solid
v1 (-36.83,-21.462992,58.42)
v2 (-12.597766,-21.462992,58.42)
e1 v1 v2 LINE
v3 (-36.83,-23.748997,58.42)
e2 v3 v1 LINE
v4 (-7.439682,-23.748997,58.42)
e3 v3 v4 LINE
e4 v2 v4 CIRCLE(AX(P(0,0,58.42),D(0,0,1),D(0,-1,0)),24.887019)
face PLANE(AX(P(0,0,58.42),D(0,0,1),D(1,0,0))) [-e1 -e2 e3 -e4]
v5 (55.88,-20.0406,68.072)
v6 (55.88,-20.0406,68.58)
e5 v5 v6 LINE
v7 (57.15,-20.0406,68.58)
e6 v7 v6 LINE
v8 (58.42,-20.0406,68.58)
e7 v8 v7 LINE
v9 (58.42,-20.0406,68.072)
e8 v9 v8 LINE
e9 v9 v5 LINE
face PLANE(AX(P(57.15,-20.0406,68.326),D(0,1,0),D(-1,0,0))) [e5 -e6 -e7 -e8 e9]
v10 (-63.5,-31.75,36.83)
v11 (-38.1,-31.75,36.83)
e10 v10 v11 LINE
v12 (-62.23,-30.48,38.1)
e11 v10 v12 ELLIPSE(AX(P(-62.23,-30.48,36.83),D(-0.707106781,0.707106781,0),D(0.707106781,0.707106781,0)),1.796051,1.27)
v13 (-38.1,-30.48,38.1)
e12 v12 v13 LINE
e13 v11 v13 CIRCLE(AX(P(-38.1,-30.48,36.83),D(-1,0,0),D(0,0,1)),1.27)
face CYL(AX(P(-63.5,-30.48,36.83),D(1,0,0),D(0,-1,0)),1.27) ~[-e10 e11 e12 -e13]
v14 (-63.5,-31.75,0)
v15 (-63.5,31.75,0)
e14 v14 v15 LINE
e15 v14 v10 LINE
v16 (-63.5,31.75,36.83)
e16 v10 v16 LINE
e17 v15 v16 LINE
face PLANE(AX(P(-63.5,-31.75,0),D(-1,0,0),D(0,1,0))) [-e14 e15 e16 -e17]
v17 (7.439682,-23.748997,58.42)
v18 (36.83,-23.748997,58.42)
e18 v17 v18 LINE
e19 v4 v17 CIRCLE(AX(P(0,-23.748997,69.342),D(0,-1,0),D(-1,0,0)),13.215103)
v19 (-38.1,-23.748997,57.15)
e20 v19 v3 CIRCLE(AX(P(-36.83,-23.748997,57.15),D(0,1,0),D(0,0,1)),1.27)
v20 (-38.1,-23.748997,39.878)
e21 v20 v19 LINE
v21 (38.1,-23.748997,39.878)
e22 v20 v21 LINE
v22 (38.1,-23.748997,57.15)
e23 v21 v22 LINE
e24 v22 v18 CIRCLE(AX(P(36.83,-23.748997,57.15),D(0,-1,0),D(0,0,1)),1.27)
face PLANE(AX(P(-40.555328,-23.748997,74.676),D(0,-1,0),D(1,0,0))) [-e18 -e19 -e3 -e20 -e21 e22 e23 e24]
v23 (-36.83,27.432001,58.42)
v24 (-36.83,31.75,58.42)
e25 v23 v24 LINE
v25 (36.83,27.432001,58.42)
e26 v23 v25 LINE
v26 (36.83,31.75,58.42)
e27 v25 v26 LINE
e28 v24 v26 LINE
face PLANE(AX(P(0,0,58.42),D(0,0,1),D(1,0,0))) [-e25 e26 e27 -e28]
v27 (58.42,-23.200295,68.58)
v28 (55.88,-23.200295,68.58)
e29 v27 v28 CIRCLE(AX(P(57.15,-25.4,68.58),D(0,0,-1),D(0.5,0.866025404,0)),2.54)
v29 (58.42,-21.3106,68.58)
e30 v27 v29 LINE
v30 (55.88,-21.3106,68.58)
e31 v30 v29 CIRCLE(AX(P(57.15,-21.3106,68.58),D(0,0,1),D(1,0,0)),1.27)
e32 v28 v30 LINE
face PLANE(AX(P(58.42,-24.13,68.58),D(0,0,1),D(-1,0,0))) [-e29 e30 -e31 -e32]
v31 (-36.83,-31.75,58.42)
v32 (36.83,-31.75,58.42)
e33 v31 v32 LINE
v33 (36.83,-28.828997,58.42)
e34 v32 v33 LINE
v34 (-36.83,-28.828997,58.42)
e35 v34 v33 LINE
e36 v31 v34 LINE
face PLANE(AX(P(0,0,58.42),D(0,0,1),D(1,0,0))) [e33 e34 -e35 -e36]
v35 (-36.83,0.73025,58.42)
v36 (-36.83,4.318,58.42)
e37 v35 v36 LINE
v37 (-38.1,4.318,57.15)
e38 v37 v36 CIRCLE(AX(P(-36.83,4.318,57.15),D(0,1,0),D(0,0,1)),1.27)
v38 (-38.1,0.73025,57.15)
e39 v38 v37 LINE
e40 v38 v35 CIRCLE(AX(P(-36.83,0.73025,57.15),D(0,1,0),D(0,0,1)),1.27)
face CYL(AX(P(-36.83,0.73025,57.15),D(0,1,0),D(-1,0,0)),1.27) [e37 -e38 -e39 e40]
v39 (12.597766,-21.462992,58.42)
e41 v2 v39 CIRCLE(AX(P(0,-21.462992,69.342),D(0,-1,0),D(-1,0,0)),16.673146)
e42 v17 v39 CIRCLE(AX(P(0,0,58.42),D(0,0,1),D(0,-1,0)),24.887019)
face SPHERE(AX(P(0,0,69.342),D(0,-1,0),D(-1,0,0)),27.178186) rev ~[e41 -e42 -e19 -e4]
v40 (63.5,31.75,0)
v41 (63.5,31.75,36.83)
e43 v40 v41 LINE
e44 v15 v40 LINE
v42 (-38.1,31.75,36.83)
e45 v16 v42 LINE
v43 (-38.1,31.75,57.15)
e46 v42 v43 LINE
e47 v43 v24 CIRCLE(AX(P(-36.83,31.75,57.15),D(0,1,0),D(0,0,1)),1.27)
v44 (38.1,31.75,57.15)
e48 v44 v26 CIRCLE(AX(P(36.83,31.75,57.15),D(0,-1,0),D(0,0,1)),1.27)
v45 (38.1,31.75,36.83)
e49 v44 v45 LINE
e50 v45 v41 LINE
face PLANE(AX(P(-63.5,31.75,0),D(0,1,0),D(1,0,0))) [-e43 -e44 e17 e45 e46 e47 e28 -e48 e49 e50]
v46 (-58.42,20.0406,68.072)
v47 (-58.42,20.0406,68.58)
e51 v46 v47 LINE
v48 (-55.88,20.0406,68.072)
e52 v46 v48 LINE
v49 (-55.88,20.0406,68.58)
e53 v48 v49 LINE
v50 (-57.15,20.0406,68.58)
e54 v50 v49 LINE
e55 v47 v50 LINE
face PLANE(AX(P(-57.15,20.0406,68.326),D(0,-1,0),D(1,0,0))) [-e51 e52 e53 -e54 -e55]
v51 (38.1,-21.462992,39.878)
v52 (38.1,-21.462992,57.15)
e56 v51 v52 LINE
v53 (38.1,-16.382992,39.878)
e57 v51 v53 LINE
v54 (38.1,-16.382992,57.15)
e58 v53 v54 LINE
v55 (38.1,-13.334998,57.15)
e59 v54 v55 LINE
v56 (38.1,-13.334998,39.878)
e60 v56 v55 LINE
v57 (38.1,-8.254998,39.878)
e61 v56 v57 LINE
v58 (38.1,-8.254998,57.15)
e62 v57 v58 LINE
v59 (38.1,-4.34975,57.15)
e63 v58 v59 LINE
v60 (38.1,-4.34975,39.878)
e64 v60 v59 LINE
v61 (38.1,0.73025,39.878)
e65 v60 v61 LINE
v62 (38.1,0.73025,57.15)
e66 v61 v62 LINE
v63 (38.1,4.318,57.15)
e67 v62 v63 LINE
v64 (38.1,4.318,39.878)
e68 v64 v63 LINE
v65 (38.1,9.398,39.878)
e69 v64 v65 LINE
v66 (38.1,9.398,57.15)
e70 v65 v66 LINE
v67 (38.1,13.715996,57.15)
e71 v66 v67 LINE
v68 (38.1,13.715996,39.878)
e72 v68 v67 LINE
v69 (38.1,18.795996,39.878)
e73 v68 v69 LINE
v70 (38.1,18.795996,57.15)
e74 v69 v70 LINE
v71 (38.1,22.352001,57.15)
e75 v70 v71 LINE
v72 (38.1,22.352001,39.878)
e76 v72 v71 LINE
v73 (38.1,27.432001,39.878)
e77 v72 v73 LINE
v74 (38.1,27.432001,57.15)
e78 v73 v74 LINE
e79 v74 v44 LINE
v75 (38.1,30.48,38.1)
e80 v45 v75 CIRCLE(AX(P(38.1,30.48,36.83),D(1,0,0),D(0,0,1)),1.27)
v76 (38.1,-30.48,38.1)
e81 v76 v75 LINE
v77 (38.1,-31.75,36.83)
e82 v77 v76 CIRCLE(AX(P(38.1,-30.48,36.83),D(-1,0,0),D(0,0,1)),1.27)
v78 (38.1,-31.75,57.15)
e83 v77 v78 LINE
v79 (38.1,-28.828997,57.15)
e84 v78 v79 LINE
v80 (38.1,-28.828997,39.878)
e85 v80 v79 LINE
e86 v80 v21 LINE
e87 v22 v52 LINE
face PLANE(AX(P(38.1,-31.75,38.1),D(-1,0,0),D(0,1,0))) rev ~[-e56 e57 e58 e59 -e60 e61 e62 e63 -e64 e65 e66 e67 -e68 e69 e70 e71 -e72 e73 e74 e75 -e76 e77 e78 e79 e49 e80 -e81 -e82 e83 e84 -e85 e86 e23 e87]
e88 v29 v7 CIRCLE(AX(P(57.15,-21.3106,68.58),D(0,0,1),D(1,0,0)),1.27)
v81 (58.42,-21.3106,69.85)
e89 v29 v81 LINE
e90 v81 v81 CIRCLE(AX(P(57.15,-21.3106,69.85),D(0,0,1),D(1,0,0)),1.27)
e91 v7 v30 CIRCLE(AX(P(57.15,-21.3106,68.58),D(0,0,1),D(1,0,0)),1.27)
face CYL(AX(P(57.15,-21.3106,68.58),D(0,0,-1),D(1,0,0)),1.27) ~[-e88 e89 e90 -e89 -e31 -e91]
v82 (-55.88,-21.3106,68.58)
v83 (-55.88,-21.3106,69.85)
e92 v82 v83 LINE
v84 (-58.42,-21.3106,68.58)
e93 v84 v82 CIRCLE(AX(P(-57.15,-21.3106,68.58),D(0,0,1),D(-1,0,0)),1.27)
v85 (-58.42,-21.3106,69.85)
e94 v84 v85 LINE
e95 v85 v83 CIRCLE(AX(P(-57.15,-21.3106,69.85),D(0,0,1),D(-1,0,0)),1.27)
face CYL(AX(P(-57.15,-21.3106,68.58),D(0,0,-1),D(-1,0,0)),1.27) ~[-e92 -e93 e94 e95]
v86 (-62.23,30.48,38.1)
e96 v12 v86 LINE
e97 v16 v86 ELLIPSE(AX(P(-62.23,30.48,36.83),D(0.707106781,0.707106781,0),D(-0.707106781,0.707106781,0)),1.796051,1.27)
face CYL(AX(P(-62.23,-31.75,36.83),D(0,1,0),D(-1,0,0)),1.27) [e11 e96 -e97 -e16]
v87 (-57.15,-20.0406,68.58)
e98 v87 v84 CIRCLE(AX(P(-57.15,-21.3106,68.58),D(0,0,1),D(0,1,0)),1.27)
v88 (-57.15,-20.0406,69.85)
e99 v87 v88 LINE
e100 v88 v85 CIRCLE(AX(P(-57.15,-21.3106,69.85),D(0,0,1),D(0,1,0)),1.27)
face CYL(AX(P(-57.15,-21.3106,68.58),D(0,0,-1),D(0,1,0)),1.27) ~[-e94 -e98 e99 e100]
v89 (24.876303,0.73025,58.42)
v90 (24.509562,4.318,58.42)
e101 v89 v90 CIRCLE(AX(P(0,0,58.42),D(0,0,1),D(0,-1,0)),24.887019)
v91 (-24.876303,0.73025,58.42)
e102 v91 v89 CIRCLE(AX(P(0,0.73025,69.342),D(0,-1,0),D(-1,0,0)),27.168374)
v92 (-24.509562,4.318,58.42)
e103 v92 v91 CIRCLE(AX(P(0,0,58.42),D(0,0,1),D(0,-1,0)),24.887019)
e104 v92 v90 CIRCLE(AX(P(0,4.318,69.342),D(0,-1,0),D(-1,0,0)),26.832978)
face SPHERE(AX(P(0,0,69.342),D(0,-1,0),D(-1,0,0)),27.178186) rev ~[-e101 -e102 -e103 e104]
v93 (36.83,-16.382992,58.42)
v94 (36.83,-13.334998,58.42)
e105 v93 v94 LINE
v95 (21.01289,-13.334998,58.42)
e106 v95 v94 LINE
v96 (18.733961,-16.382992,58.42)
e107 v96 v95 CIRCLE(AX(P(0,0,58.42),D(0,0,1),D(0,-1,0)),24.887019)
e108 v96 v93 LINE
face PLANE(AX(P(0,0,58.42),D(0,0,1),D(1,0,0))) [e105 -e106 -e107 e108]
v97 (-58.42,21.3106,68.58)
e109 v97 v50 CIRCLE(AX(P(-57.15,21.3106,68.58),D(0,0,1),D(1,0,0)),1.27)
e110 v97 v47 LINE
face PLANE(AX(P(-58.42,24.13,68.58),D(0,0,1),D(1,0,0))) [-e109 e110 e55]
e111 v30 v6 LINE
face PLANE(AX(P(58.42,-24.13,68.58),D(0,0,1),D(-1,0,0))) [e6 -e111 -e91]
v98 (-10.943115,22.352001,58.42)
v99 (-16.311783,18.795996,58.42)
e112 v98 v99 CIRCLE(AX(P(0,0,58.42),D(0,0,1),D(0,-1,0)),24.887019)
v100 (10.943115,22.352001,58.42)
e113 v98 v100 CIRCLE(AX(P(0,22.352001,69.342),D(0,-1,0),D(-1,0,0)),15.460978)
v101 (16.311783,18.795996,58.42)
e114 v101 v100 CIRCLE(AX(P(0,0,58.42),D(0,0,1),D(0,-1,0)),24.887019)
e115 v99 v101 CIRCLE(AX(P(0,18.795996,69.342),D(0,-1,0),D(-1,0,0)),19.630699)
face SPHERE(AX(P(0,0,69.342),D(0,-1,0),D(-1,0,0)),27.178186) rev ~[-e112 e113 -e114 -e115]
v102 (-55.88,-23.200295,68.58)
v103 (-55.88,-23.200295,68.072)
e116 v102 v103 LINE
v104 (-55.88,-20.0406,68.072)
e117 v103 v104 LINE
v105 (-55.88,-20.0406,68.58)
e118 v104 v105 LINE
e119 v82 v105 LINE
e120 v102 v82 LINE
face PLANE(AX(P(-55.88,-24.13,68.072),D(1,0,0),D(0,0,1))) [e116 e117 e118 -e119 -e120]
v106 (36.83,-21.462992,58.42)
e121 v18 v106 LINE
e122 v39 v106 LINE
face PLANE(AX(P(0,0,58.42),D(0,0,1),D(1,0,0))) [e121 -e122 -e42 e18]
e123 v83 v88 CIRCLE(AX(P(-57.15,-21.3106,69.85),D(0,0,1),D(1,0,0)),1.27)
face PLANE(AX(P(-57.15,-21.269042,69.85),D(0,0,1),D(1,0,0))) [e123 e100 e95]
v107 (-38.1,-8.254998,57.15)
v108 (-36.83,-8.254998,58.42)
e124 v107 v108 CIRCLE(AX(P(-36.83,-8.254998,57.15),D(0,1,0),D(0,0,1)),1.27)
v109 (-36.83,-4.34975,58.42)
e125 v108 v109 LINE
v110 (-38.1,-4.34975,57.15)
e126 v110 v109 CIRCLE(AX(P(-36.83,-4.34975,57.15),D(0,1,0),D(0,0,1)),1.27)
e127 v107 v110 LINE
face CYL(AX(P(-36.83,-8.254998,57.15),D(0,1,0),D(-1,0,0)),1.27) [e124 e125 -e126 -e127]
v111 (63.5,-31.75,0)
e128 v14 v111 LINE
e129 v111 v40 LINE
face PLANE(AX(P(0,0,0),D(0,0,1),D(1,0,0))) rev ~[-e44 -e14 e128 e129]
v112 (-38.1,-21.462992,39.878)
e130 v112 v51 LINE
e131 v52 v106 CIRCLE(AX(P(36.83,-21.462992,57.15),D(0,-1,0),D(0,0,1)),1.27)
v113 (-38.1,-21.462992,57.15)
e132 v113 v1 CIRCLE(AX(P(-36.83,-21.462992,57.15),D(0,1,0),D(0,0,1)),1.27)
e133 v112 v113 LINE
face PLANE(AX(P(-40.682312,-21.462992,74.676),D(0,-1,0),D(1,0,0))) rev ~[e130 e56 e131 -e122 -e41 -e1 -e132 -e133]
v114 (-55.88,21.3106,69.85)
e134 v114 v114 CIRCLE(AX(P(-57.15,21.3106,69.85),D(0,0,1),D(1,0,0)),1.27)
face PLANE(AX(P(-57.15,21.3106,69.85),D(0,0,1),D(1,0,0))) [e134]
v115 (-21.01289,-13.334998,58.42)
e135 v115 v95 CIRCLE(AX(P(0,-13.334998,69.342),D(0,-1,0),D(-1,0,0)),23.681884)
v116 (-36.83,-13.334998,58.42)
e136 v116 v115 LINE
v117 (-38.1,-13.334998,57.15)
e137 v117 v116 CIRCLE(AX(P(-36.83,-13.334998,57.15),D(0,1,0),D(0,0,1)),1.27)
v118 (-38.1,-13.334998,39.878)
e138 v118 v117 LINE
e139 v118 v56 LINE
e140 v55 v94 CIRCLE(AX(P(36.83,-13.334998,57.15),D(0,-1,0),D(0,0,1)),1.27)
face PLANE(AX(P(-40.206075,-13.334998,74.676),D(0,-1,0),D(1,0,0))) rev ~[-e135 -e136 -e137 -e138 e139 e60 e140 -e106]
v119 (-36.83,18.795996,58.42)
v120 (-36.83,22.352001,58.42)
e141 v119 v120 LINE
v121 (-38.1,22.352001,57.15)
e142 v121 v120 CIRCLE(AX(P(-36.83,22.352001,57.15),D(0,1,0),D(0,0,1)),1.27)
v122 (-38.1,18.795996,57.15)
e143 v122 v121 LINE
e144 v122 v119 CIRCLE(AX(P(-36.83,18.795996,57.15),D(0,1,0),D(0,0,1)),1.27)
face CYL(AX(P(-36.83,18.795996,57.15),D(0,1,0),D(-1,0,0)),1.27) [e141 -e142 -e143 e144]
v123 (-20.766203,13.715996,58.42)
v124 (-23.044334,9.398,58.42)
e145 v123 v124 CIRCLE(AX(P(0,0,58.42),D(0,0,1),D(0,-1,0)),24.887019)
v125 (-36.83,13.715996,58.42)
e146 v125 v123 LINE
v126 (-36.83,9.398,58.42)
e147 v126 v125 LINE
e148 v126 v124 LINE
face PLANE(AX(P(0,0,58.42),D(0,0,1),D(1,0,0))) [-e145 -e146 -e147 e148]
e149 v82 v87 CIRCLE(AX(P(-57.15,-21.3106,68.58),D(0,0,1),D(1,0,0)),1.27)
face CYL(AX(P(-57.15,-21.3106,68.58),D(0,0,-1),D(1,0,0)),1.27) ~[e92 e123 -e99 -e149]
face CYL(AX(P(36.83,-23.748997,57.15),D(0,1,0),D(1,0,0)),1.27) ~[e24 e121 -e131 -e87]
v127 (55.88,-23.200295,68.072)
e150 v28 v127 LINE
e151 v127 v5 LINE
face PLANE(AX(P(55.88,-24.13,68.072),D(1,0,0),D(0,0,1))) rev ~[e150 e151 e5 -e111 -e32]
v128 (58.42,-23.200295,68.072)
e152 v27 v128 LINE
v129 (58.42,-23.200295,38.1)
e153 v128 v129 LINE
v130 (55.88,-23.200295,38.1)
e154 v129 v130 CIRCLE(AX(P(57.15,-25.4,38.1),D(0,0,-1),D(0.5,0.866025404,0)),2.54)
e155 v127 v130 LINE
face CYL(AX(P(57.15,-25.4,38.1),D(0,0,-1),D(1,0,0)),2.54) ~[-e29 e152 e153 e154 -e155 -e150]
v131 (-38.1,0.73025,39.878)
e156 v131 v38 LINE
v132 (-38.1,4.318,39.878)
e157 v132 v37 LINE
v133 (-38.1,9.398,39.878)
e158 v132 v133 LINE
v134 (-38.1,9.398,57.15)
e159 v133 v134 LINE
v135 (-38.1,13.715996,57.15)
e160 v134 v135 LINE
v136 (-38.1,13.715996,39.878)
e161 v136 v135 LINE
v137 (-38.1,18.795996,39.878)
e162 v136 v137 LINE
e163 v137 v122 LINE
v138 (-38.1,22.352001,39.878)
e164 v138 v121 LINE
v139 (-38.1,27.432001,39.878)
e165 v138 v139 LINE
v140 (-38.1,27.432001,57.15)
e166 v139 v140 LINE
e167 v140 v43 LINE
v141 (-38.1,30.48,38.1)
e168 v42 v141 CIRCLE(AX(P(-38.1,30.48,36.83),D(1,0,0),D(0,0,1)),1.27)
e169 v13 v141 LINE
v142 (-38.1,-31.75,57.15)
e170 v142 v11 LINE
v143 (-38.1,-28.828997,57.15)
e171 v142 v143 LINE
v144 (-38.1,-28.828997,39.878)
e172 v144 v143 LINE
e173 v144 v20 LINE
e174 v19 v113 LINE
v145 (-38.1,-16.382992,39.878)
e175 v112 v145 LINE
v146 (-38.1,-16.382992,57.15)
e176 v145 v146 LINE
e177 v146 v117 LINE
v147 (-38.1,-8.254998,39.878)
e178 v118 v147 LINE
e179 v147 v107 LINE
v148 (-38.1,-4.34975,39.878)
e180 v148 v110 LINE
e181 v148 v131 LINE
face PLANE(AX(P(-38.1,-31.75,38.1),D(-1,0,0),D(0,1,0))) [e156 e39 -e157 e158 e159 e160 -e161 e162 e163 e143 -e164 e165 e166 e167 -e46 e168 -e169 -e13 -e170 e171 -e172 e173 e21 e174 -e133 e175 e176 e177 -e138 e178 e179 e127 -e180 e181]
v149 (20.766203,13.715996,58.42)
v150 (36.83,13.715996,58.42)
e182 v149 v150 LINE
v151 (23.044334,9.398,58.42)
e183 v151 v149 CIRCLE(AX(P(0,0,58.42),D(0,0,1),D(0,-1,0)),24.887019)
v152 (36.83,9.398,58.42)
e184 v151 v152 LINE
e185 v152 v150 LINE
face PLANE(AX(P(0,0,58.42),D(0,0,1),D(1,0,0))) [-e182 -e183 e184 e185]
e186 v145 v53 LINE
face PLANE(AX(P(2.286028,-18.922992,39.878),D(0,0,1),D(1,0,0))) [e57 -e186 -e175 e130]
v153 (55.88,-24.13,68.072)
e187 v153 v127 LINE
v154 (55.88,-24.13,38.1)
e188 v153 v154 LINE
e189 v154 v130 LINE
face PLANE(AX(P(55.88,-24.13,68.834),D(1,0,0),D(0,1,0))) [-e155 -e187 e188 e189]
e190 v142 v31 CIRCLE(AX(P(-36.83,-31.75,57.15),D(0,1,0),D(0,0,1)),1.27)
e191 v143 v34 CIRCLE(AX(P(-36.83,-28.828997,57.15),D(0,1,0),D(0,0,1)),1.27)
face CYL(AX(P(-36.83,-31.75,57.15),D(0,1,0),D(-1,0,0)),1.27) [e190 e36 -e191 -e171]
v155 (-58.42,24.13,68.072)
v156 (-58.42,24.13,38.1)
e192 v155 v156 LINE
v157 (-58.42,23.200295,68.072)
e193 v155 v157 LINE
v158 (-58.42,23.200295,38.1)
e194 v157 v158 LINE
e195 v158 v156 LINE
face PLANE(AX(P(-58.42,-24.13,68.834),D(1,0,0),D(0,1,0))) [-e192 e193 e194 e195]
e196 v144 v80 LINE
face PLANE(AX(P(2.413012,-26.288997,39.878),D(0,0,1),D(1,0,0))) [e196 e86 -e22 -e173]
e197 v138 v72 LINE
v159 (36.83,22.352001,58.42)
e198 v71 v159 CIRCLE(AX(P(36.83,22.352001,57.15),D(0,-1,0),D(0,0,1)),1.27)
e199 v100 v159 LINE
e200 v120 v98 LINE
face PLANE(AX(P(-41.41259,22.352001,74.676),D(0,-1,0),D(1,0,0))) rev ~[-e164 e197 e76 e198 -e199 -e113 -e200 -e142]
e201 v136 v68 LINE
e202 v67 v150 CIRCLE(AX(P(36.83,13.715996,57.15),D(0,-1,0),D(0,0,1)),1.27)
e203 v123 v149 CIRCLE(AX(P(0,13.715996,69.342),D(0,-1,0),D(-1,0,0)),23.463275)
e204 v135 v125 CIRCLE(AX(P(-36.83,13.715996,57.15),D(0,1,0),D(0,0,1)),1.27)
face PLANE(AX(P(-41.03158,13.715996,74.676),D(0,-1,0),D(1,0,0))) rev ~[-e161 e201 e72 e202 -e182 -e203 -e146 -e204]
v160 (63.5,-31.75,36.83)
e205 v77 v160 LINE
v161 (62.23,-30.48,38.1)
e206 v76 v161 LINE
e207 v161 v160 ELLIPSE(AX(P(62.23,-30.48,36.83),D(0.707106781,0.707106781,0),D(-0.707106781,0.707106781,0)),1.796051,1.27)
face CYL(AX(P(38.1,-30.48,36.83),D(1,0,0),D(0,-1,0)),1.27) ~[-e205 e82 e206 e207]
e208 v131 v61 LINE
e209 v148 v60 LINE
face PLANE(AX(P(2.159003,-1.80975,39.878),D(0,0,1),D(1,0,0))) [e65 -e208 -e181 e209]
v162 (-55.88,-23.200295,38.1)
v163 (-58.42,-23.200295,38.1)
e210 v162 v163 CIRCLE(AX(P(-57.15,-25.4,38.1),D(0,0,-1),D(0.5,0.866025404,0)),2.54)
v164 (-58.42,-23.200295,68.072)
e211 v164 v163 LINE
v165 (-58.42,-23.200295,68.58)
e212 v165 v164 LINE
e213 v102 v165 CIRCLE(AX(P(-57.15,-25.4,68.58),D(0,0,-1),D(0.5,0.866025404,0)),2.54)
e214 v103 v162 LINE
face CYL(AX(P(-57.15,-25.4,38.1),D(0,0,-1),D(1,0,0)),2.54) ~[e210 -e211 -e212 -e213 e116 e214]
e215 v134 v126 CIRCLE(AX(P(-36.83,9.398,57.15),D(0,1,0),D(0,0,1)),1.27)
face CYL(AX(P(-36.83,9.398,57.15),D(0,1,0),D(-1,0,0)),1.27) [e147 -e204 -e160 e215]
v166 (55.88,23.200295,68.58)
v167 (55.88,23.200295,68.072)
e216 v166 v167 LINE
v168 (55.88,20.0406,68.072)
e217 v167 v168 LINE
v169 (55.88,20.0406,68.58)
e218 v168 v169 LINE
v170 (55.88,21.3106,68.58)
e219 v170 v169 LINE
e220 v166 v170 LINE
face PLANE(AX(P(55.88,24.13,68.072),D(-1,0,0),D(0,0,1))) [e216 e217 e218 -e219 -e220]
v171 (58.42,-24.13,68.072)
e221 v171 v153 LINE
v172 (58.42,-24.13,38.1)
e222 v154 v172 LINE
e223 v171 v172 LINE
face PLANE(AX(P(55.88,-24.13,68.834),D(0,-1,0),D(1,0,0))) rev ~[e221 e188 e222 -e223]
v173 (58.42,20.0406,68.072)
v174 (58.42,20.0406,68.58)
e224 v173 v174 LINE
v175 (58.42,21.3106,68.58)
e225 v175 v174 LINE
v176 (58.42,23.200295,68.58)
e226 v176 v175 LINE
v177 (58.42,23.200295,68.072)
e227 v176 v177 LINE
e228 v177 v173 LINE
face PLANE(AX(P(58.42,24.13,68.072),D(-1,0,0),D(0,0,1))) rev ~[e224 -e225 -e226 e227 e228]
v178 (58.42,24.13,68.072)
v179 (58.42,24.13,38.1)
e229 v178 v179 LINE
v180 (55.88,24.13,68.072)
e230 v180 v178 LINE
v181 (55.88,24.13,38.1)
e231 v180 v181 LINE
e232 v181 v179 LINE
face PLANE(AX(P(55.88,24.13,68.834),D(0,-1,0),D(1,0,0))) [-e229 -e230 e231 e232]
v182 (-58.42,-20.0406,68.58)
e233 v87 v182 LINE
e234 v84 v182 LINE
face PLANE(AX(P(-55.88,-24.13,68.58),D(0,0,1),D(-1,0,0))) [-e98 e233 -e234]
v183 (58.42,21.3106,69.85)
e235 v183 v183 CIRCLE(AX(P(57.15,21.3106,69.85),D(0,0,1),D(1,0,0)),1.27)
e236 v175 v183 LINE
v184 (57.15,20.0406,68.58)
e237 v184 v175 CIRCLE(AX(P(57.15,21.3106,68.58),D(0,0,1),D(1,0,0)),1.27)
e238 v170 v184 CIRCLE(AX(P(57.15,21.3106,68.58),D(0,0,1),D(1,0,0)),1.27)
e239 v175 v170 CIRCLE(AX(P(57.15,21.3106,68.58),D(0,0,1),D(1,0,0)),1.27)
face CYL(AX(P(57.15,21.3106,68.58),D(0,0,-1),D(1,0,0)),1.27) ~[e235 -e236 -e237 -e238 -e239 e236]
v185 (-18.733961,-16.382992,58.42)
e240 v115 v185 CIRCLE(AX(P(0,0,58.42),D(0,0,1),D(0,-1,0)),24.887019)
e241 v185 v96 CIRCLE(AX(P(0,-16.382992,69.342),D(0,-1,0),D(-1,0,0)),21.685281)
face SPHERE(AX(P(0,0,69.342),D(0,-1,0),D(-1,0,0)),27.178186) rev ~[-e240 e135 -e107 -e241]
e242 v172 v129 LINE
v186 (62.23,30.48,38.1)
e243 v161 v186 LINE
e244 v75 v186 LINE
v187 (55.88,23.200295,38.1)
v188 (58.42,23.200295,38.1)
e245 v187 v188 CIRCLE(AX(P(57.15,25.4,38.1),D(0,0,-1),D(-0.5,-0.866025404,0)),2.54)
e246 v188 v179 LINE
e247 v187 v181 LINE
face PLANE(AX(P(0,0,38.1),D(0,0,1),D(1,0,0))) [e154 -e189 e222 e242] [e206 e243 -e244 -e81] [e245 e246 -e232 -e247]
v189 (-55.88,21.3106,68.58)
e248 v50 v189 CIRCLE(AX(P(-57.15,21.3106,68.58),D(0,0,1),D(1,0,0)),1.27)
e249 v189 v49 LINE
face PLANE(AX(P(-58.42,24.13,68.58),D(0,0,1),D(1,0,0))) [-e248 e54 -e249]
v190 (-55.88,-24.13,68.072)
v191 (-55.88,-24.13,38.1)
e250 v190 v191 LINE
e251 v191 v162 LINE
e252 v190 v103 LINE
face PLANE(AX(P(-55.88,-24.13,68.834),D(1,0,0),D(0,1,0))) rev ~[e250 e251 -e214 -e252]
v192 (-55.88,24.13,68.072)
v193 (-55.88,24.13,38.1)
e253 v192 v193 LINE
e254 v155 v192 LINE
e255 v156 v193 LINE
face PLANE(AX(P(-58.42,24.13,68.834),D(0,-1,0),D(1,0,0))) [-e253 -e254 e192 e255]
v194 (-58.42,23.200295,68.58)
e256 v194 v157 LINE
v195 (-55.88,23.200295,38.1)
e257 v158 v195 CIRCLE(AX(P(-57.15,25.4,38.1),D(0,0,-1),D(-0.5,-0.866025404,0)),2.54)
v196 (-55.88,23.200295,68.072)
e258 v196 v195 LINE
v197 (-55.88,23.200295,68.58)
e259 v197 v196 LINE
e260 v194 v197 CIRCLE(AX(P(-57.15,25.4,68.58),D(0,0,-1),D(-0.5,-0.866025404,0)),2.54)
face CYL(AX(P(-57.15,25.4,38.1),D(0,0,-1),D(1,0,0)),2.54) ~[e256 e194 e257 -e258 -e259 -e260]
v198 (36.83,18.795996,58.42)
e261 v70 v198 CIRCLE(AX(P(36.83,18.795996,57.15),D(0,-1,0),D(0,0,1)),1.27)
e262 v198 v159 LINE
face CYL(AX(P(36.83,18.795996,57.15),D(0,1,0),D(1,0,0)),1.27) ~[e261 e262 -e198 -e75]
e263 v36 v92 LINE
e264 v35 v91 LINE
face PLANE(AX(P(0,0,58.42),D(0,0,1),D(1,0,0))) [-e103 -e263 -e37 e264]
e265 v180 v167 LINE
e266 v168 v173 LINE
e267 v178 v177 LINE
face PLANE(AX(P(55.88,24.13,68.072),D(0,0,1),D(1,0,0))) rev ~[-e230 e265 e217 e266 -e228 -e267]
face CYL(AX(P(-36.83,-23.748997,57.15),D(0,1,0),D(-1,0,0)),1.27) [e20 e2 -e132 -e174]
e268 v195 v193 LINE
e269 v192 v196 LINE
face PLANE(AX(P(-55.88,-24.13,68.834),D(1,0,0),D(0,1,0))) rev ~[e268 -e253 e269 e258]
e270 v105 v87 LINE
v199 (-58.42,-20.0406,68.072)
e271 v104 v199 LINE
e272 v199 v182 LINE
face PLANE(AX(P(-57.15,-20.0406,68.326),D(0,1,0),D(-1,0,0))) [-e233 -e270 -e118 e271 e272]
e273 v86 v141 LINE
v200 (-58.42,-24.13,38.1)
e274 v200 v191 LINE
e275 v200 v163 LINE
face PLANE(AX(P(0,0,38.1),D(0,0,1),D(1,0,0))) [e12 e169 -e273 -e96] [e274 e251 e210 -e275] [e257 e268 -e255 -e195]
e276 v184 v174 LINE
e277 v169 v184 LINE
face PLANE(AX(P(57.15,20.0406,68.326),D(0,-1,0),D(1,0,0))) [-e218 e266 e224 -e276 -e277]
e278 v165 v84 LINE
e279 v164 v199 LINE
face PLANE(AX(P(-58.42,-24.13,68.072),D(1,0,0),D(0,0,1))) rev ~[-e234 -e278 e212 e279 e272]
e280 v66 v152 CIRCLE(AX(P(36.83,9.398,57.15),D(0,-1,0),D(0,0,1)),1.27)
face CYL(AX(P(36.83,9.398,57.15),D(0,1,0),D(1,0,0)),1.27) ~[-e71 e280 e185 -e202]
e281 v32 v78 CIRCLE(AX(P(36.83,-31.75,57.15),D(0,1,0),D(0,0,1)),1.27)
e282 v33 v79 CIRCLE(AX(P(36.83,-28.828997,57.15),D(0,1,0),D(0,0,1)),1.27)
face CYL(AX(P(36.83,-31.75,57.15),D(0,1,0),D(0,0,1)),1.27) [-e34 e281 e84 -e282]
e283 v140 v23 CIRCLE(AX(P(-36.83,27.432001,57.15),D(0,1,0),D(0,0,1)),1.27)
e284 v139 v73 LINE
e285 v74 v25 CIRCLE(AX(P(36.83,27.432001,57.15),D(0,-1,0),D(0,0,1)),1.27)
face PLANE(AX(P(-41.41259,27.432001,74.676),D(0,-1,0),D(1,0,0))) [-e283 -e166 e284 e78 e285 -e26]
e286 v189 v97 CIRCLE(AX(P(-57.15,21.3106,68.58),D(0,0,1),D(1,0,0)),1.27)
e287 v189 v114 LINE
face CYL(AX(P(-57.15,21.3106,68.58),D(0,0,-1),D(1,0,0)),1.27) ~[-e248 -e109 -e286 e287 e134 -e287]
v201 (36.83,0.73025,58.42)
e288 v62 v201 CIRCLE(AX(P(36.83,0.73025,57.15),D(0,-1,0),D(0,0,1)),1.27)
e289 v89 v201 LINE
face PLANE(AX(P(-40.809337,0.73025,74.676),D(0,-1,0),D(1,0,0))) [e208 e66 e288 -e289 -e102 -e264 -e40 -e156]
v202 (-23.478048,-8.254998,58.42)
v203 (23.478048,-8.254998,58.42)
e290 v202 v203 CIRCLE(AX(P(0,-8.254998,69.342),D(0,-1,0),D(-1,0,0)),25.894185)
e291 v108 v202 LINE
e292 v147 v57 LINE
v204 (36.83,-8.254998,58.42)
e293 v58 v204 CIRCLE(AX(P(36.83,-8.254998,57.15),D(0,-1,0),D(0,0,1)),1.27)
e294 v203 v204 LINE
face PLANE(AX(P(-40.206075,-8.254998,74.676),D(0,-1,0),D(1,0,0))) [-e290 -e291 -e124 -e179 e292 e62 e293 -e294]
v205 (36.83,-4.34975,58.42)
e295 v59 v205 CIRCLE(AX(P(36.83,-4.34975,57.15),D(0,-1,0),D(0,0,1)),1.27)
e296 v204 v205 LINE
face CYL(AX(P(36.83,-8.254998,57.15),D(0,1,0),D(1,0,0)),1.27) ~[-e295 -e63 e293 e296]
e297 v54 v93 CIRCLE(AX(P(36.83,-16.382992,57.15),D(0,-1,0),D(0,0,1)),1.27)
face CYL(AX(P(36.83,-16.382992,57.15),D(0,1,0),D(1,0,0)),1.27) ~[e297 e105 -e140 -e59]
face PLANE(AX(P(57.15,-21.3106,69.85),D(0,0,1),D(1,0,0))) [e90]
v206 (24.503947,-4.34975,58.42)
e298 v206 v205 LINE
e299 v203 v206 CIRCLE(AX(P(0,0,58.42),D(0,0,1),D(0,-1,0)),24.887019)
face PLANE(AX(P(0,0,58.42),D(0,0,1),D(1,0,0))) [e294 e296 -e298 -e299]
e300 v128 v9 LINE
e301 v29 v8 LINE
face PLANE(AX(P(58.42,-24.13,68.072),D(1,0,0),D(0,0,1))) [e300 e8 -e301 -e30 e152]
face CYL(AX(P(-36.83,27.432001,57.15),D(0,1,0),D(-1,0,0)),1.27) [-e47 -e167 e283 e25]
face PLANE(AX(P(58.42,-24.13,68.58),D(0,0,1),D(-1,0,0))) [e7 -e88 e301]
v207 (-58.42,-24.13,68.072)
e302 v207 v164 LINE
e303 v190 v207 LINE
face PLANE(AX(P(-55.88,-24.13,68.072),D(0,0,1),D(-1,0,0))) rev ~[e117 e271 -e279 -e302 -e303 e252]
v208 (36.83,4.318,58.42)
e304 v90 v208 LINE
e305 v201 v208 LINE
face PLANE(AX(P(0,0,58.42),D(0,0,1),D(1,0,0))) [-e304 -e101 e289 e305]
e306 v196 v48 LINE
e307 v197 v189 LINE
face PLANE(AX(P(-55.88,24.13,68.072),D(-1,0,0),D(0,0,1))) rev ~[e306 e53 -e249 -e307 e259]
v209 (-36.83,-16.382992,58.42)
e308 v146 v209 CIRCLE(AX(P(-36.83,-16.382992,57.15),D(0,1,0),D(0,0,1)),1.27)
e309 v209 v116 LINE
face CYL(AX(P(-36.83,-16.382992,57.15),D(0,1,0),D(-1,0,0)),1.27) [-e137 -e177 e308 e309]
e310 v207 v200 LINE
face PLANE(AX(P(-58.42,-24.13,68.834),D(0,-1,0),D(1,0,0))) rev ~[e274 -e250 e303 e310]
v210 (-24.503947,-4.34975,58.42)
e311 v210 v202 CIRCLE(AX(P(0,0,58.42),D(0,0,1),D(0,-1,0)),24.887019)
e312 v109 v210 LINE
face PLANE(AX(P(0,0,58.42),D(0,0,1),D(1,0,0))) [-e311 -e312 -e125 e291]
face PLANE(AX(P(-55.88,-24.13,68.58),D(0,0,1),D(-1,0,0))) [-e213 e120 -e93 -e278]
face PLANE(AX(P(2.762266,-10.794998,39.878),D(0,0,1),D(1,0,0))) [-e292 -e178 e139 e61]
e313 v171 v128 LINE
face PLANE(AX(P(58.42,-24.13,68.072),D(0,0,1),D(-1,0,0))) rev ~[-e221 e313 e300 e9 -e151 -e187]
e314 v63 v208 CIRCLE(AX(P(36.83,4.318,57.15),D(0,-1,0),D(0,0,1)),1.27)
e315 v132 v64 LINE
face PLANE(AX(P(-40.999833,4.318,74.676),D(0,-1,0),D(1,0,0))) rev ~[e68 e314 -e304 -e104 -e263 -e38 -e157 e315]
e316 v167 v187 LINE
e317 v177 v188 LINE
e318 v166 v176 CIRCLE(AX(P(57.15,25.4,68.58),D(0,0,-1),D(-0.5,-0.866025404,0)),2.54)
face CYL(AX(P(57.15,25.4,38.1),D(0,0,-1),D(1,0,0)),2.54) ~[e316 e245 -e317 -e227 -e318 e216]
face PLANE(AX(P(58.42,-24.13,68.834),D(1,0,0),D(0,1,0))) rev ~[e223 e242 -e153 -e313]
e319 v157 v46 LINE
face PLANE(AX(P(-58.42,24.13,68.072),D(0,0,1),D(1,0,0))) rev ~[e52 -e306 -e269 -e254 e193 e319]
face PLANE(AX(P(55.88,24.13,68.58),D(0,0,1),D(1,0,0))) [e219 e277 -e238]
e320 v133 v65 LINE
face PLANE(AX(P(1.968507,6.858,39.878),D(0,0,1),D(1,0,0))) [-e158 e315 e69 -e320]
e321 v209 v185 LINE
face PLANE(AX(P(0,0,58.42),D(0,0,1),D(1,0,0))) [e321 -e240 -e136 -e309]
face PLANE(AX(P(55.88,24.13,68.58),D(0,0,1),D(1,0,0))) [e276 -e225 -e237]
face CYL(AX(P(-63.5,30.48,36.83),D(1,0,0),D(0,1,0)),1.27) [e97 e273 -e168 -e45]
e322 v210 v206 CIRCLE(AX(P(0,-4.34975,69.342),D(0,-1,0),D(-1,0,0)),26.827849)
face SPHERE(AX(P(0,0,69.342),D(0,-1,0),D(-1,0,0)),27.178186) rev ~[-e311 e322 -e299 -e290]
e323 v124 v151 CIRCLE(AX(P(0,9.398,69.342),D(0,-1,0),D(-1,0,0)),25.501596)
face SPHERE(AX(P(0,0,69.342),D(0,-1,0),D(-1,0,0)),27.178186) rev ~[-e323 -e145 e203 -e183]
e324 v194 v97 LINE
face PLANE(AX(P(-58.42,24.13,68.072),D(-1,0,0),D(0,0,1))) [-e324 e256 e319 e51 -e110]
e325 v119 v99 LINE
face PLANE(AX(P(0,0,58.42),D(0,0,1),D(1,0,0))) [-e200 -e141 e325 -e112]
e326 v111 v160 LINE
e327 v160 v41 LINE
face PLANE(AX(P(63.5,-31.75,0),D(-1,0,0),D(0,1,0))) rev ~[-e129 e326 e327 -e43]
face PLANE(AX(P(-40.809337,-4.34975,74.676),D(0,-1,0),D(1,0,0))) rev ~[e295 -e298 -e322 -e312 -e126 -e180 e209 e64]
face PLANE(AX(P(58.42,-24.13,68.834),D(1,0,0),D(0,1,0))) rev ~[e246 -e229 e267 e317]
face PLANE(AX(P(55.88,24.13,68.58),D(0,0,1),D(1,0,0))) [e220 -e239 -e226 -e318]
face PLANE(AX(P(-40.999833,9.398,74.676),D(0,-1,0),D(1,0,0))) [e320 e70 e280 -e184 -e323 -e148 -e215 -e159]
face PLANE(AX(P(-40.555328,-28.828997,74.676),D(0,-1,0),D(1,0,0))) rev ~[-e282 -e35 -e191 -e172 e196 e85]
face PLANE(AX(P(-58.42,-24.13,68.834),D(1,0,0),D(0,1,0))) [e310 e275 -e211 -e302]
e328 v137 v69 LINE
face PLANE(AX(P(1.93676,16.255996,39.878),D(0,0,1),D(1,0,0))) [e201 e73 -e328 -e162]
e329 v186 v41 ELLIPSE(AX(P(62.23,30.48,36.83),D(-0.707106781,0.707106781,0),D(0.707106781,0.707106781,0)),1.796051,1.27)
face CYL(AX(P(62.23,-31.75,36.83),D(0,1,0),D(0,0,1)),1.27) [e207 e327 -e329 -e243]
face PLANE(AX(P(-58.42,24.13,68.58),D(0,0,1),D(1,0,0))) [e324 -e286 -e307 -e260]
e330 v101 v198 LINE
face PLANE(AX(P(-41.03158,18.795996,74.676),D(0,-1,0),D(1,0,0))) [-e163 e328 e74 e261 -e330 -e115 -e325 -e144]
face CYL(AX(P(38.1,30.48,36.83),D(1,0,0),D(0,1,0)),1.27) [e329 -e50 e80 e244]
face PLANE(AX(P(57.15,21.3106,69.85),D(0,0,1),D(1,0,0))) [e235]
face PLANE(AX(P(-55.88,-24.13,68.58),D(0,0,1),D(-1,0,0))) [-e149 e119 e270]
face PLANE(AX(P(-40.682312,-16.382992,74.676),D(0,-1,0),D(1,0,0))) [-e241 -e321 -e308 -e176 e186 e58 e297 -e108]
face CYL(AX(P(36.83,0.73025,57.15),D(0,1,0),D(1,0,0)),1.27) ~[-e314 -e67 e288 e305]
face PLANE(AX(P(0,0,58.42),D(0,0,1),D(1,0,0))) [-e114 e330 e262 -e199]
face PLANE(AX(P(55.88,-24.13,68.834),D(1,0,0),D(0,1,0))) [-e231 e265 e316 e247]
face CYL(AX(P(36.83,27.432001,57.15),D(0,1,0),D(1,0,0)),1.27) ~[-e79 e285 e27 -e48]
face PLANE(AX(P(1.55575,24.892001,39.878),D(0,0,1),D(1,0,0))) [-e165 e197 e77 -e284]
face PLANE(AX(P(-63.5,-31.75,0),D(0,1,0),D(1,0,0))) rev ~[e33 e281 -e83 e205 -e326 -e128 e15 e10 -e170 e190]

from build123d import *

# Parameters (mm, degrees)
F0_W      = 127
F0_H      = 63.5
F1_DEPTH  = 38.1
F2_W      = 76.2
F2_H      = 63.5
F3_DEPTH  = 20.32
F5_W      = 85.9366810061
F5_H      = 5.08
F6_DEPTH  = 34.798
F7_R      = 1.27
F12_R     = 2.54
F13_DEPTH = 30.48
F14_R     = 2.54
F15_DEPTH = 30.48
F17_W     = 2.54
F17_H     = 48.26
F18_DEPTH = 30.734
F19_W     = 2.54
F19_H     = 0.508
F20_DEPTH = 4.0894
F21_R     = 1.27
F22_DEPTH = 1.27
F23_W     = 2.54
F23_H     = 0.508
F24_DEPTH = 4.0894
F26_DEPTH = 1.27
F27_W     = 2.54
F27_H     = 0.508
F28_DEPTH = 4.0894
F29_R     = 1.27
F30_DEPTH = 1.27
F31_W     = 2.54
F31_H     = 0.508
F32_DEPTH = 4.0894
F33_R     = 1.27
F34_DEPTH = 1.27


with BuildPart() as f1:
    # F0 (on Top) → F1 (new body)
    with BuildSketch(Plane.XY):
        Rectangle(F0_W, F0_H)
    extrude(amount=F1_DEPTH)

    # F2 (on face) → F3 (join)
    with BuildSketch(Plane.XY.offset(38.1)):
        Rectangle(F2_W, F2_H)
    extrude(amount=F3_DEPTH)

    # F5 (on offset) → F6 (cut)
    with BuildSketch(Plane.XY.offset(74.676)):
        with Locations((1.5557501465, 24.8920014128)):
            Rectangle(F5_W, F5_H)
        with Locations((1.9367600847, 16.255996407)):
            Rectangle(F5_W, F5_H)
        with Locations((1.9685070086, 6.8579998174)):
            Rectangle(F5_W, F5_H)
        with Locations((2.1590034533, -1.8097495353)):
            Rectangle(F5_W, F5_H)
        with Locations((2.7622657884, -10.7949979296)):
            Rectangle(F5_W, F5_H)
        with Locations((2.2860284019, -18.9229918337)):
            Rectangle(F5_W, F5_H)
        with Locations((2.4130123723, -26.288997165)):
            Rectangle(F5_W, F5_H)
    extrude(amount=-F6_DEPTH, mode=Mode.SUBTRACT)

    # F7
    f7_edges = [f1.edges().sort_by_distance(p)[0] for p in [
        (-63.5, 0, 38.1),
        (-50.8, -31.75, 38.1),
        (-38.1, -6.302374, 58.42),
        (-38.1, -14.858995, 58.42),
        (-38.1, -30.289499, 58.42),
        (-38.1, -22.605994, 58.42),
        (-38.1, 11.556998, 58.42),
        (-38.1, 20.573999, 58.42),
        (-38.1, 29.591001, 58.42),
        (-38.1, 2.524125, 58.42),
        (-50.8, 31.75, 38.1),
        (63.5, 0, 38.1),
        (50.8, 31.75, 38.1),
        (50.8, -31.75, 38.1),
        (38.1, 2.524125, 58.42),
        (38.1, 11.556998, 58.42),
        (38.1, 20.573999, 58.42),
        (38.1, 29.591001, 58.42),
        (38.1, -6.302374, 58.42),
        (38.1, -14.858995, 58.42),
        (38.1, -22.605994, 58.42),
        (38.1, -30.289499, 58.42),
    ]]
    fillet(f7_edges, radius=F7_R)

    # F9 (on offset) → F11 (revolve, cut)
    with BuildSketch(Plane.XY.offset(69.342)):
        with BuildLine():
            Line((0, -27.1781864281), (0, 27.1781864281))
            ThreePointArc((0, 27.1781864281), (-27.1781864281, 0), (0, -27.1781864281))
        make_face()
    revolve(axis=Axis((0, 0.2222489566, 69.342), (0, -1, 0)), mode=Mode.SUBTRACT)

    # F12 (on face) → F13 (join)
    with BuildSketch(Plane.XY.offset(38.1)):
        with Locations((-57.15, 25.4)):
            Circle(F12_R)
        with Locations((-57.15, -25.4)):
            Circle(F12_R)
    extrude(amount=F13_DEPTH)

    # F14 (on face) → F15 (join)
    with BuildSketch(Plane.XY.offset(38.1)):
        with Locations((57.15, 25.4)):
            Circle(F14_R)
        with Locations((57.15, -25.4)):
            Circle(F14_R)
    extrude(amount=F15_DEPTH)

    # F17 (on offset) → F18 (cut)
    with BuildSketch(Plane.XY.offset(68.834)):
        with Locations((-57.15, 0)):
            Rectangle(F17_W, F17_H)
        with Locations((57.15, 0)):
            Rectangle(F17_W, F17_H)
    extrude(amount=-F18_DEPTH, mode=Mode.SUBTRACT)

    # F19 (on face) → F20 (join)
    with BuildSketch(Plane.XZ.offset(-24.13)):
        with Locations((-57.15, 68.326)):
            Rectangle(F19_W, F19_H)
    extrude(amount=F20_DEPTH)

    # F21 (on face) → F22 (join)
    with BuildSketch(Plane.XY.offset(68.58)):
        with Locations((-57.15, 21.3106)):
            Circle(F21_R)
    extrude(amount=F22_DEPTH)

    # F23 (on face) → F24 (join)
    with BuildSketch(Plane(origin=(0, -24.13, 0), x_dir=(-1, 0, 0), z_dir=(0, 1, 0))):
        with Locations((57.15, 68.326)):
            Rectangle(F23_W, F23_H)
    extrude(amount=F24_DEPTH)

    # F25 (on face) → F26 (join)
    with BuildSketch(Plane.XY.offset(68.58)):
        with BuildLine():
            ThreePointArc((-58.42, -21.3106), (-57.15, -22.5806), (-55.88, -21.3106))
            ThreePointArc((-55.88, -21.3106), (-56.2519743879, -20.4125743879), (-57.15, -20.0406))
            ThreePointArc((-57.15, -20.0406), (-58.0480256121, -20.4125743879), (-58.42, -21.3106))
        make_face()
    extrude(amount=F26_DEPTH)

    # F27 (on face) → F28 (join)
    with BuildSketch(Plane.XZ.offset(-24.13)):
        with Locations((57.15, 68.326)):
            Rectangle(F27_W, F27_H)
    extrude(amount=F28_DEPTH)

    # F29 (on face) → F30 (join)
    with BuildSketch(Plane.XY.offset(68.58)):
        with Locations((57.15, 21.3106)):
            Circle(F29_R)
    extrude(amount=F30_DEPTH)

    # F31 (on face) → F32 (join)
    with BuildSketch(Plane(origin=(0, -24.13, 0), x_dir=(-1, 0, 0), z_dir=(0, 1, 0))):
        with Locations((-57.15, 68.326)):
            Rectangle(F31_W, F31_H)
    extrude(amount=F32_DEPTH)

    # F33 (on face) → F34 (join)
    with BuildSketch(Plane.XY.offset(68.58)):
        with Locations((57.15, -21.3106)):
            Circle(F33_R)
    extrude(amount=F34_DEPTH)


solid = f1.part
